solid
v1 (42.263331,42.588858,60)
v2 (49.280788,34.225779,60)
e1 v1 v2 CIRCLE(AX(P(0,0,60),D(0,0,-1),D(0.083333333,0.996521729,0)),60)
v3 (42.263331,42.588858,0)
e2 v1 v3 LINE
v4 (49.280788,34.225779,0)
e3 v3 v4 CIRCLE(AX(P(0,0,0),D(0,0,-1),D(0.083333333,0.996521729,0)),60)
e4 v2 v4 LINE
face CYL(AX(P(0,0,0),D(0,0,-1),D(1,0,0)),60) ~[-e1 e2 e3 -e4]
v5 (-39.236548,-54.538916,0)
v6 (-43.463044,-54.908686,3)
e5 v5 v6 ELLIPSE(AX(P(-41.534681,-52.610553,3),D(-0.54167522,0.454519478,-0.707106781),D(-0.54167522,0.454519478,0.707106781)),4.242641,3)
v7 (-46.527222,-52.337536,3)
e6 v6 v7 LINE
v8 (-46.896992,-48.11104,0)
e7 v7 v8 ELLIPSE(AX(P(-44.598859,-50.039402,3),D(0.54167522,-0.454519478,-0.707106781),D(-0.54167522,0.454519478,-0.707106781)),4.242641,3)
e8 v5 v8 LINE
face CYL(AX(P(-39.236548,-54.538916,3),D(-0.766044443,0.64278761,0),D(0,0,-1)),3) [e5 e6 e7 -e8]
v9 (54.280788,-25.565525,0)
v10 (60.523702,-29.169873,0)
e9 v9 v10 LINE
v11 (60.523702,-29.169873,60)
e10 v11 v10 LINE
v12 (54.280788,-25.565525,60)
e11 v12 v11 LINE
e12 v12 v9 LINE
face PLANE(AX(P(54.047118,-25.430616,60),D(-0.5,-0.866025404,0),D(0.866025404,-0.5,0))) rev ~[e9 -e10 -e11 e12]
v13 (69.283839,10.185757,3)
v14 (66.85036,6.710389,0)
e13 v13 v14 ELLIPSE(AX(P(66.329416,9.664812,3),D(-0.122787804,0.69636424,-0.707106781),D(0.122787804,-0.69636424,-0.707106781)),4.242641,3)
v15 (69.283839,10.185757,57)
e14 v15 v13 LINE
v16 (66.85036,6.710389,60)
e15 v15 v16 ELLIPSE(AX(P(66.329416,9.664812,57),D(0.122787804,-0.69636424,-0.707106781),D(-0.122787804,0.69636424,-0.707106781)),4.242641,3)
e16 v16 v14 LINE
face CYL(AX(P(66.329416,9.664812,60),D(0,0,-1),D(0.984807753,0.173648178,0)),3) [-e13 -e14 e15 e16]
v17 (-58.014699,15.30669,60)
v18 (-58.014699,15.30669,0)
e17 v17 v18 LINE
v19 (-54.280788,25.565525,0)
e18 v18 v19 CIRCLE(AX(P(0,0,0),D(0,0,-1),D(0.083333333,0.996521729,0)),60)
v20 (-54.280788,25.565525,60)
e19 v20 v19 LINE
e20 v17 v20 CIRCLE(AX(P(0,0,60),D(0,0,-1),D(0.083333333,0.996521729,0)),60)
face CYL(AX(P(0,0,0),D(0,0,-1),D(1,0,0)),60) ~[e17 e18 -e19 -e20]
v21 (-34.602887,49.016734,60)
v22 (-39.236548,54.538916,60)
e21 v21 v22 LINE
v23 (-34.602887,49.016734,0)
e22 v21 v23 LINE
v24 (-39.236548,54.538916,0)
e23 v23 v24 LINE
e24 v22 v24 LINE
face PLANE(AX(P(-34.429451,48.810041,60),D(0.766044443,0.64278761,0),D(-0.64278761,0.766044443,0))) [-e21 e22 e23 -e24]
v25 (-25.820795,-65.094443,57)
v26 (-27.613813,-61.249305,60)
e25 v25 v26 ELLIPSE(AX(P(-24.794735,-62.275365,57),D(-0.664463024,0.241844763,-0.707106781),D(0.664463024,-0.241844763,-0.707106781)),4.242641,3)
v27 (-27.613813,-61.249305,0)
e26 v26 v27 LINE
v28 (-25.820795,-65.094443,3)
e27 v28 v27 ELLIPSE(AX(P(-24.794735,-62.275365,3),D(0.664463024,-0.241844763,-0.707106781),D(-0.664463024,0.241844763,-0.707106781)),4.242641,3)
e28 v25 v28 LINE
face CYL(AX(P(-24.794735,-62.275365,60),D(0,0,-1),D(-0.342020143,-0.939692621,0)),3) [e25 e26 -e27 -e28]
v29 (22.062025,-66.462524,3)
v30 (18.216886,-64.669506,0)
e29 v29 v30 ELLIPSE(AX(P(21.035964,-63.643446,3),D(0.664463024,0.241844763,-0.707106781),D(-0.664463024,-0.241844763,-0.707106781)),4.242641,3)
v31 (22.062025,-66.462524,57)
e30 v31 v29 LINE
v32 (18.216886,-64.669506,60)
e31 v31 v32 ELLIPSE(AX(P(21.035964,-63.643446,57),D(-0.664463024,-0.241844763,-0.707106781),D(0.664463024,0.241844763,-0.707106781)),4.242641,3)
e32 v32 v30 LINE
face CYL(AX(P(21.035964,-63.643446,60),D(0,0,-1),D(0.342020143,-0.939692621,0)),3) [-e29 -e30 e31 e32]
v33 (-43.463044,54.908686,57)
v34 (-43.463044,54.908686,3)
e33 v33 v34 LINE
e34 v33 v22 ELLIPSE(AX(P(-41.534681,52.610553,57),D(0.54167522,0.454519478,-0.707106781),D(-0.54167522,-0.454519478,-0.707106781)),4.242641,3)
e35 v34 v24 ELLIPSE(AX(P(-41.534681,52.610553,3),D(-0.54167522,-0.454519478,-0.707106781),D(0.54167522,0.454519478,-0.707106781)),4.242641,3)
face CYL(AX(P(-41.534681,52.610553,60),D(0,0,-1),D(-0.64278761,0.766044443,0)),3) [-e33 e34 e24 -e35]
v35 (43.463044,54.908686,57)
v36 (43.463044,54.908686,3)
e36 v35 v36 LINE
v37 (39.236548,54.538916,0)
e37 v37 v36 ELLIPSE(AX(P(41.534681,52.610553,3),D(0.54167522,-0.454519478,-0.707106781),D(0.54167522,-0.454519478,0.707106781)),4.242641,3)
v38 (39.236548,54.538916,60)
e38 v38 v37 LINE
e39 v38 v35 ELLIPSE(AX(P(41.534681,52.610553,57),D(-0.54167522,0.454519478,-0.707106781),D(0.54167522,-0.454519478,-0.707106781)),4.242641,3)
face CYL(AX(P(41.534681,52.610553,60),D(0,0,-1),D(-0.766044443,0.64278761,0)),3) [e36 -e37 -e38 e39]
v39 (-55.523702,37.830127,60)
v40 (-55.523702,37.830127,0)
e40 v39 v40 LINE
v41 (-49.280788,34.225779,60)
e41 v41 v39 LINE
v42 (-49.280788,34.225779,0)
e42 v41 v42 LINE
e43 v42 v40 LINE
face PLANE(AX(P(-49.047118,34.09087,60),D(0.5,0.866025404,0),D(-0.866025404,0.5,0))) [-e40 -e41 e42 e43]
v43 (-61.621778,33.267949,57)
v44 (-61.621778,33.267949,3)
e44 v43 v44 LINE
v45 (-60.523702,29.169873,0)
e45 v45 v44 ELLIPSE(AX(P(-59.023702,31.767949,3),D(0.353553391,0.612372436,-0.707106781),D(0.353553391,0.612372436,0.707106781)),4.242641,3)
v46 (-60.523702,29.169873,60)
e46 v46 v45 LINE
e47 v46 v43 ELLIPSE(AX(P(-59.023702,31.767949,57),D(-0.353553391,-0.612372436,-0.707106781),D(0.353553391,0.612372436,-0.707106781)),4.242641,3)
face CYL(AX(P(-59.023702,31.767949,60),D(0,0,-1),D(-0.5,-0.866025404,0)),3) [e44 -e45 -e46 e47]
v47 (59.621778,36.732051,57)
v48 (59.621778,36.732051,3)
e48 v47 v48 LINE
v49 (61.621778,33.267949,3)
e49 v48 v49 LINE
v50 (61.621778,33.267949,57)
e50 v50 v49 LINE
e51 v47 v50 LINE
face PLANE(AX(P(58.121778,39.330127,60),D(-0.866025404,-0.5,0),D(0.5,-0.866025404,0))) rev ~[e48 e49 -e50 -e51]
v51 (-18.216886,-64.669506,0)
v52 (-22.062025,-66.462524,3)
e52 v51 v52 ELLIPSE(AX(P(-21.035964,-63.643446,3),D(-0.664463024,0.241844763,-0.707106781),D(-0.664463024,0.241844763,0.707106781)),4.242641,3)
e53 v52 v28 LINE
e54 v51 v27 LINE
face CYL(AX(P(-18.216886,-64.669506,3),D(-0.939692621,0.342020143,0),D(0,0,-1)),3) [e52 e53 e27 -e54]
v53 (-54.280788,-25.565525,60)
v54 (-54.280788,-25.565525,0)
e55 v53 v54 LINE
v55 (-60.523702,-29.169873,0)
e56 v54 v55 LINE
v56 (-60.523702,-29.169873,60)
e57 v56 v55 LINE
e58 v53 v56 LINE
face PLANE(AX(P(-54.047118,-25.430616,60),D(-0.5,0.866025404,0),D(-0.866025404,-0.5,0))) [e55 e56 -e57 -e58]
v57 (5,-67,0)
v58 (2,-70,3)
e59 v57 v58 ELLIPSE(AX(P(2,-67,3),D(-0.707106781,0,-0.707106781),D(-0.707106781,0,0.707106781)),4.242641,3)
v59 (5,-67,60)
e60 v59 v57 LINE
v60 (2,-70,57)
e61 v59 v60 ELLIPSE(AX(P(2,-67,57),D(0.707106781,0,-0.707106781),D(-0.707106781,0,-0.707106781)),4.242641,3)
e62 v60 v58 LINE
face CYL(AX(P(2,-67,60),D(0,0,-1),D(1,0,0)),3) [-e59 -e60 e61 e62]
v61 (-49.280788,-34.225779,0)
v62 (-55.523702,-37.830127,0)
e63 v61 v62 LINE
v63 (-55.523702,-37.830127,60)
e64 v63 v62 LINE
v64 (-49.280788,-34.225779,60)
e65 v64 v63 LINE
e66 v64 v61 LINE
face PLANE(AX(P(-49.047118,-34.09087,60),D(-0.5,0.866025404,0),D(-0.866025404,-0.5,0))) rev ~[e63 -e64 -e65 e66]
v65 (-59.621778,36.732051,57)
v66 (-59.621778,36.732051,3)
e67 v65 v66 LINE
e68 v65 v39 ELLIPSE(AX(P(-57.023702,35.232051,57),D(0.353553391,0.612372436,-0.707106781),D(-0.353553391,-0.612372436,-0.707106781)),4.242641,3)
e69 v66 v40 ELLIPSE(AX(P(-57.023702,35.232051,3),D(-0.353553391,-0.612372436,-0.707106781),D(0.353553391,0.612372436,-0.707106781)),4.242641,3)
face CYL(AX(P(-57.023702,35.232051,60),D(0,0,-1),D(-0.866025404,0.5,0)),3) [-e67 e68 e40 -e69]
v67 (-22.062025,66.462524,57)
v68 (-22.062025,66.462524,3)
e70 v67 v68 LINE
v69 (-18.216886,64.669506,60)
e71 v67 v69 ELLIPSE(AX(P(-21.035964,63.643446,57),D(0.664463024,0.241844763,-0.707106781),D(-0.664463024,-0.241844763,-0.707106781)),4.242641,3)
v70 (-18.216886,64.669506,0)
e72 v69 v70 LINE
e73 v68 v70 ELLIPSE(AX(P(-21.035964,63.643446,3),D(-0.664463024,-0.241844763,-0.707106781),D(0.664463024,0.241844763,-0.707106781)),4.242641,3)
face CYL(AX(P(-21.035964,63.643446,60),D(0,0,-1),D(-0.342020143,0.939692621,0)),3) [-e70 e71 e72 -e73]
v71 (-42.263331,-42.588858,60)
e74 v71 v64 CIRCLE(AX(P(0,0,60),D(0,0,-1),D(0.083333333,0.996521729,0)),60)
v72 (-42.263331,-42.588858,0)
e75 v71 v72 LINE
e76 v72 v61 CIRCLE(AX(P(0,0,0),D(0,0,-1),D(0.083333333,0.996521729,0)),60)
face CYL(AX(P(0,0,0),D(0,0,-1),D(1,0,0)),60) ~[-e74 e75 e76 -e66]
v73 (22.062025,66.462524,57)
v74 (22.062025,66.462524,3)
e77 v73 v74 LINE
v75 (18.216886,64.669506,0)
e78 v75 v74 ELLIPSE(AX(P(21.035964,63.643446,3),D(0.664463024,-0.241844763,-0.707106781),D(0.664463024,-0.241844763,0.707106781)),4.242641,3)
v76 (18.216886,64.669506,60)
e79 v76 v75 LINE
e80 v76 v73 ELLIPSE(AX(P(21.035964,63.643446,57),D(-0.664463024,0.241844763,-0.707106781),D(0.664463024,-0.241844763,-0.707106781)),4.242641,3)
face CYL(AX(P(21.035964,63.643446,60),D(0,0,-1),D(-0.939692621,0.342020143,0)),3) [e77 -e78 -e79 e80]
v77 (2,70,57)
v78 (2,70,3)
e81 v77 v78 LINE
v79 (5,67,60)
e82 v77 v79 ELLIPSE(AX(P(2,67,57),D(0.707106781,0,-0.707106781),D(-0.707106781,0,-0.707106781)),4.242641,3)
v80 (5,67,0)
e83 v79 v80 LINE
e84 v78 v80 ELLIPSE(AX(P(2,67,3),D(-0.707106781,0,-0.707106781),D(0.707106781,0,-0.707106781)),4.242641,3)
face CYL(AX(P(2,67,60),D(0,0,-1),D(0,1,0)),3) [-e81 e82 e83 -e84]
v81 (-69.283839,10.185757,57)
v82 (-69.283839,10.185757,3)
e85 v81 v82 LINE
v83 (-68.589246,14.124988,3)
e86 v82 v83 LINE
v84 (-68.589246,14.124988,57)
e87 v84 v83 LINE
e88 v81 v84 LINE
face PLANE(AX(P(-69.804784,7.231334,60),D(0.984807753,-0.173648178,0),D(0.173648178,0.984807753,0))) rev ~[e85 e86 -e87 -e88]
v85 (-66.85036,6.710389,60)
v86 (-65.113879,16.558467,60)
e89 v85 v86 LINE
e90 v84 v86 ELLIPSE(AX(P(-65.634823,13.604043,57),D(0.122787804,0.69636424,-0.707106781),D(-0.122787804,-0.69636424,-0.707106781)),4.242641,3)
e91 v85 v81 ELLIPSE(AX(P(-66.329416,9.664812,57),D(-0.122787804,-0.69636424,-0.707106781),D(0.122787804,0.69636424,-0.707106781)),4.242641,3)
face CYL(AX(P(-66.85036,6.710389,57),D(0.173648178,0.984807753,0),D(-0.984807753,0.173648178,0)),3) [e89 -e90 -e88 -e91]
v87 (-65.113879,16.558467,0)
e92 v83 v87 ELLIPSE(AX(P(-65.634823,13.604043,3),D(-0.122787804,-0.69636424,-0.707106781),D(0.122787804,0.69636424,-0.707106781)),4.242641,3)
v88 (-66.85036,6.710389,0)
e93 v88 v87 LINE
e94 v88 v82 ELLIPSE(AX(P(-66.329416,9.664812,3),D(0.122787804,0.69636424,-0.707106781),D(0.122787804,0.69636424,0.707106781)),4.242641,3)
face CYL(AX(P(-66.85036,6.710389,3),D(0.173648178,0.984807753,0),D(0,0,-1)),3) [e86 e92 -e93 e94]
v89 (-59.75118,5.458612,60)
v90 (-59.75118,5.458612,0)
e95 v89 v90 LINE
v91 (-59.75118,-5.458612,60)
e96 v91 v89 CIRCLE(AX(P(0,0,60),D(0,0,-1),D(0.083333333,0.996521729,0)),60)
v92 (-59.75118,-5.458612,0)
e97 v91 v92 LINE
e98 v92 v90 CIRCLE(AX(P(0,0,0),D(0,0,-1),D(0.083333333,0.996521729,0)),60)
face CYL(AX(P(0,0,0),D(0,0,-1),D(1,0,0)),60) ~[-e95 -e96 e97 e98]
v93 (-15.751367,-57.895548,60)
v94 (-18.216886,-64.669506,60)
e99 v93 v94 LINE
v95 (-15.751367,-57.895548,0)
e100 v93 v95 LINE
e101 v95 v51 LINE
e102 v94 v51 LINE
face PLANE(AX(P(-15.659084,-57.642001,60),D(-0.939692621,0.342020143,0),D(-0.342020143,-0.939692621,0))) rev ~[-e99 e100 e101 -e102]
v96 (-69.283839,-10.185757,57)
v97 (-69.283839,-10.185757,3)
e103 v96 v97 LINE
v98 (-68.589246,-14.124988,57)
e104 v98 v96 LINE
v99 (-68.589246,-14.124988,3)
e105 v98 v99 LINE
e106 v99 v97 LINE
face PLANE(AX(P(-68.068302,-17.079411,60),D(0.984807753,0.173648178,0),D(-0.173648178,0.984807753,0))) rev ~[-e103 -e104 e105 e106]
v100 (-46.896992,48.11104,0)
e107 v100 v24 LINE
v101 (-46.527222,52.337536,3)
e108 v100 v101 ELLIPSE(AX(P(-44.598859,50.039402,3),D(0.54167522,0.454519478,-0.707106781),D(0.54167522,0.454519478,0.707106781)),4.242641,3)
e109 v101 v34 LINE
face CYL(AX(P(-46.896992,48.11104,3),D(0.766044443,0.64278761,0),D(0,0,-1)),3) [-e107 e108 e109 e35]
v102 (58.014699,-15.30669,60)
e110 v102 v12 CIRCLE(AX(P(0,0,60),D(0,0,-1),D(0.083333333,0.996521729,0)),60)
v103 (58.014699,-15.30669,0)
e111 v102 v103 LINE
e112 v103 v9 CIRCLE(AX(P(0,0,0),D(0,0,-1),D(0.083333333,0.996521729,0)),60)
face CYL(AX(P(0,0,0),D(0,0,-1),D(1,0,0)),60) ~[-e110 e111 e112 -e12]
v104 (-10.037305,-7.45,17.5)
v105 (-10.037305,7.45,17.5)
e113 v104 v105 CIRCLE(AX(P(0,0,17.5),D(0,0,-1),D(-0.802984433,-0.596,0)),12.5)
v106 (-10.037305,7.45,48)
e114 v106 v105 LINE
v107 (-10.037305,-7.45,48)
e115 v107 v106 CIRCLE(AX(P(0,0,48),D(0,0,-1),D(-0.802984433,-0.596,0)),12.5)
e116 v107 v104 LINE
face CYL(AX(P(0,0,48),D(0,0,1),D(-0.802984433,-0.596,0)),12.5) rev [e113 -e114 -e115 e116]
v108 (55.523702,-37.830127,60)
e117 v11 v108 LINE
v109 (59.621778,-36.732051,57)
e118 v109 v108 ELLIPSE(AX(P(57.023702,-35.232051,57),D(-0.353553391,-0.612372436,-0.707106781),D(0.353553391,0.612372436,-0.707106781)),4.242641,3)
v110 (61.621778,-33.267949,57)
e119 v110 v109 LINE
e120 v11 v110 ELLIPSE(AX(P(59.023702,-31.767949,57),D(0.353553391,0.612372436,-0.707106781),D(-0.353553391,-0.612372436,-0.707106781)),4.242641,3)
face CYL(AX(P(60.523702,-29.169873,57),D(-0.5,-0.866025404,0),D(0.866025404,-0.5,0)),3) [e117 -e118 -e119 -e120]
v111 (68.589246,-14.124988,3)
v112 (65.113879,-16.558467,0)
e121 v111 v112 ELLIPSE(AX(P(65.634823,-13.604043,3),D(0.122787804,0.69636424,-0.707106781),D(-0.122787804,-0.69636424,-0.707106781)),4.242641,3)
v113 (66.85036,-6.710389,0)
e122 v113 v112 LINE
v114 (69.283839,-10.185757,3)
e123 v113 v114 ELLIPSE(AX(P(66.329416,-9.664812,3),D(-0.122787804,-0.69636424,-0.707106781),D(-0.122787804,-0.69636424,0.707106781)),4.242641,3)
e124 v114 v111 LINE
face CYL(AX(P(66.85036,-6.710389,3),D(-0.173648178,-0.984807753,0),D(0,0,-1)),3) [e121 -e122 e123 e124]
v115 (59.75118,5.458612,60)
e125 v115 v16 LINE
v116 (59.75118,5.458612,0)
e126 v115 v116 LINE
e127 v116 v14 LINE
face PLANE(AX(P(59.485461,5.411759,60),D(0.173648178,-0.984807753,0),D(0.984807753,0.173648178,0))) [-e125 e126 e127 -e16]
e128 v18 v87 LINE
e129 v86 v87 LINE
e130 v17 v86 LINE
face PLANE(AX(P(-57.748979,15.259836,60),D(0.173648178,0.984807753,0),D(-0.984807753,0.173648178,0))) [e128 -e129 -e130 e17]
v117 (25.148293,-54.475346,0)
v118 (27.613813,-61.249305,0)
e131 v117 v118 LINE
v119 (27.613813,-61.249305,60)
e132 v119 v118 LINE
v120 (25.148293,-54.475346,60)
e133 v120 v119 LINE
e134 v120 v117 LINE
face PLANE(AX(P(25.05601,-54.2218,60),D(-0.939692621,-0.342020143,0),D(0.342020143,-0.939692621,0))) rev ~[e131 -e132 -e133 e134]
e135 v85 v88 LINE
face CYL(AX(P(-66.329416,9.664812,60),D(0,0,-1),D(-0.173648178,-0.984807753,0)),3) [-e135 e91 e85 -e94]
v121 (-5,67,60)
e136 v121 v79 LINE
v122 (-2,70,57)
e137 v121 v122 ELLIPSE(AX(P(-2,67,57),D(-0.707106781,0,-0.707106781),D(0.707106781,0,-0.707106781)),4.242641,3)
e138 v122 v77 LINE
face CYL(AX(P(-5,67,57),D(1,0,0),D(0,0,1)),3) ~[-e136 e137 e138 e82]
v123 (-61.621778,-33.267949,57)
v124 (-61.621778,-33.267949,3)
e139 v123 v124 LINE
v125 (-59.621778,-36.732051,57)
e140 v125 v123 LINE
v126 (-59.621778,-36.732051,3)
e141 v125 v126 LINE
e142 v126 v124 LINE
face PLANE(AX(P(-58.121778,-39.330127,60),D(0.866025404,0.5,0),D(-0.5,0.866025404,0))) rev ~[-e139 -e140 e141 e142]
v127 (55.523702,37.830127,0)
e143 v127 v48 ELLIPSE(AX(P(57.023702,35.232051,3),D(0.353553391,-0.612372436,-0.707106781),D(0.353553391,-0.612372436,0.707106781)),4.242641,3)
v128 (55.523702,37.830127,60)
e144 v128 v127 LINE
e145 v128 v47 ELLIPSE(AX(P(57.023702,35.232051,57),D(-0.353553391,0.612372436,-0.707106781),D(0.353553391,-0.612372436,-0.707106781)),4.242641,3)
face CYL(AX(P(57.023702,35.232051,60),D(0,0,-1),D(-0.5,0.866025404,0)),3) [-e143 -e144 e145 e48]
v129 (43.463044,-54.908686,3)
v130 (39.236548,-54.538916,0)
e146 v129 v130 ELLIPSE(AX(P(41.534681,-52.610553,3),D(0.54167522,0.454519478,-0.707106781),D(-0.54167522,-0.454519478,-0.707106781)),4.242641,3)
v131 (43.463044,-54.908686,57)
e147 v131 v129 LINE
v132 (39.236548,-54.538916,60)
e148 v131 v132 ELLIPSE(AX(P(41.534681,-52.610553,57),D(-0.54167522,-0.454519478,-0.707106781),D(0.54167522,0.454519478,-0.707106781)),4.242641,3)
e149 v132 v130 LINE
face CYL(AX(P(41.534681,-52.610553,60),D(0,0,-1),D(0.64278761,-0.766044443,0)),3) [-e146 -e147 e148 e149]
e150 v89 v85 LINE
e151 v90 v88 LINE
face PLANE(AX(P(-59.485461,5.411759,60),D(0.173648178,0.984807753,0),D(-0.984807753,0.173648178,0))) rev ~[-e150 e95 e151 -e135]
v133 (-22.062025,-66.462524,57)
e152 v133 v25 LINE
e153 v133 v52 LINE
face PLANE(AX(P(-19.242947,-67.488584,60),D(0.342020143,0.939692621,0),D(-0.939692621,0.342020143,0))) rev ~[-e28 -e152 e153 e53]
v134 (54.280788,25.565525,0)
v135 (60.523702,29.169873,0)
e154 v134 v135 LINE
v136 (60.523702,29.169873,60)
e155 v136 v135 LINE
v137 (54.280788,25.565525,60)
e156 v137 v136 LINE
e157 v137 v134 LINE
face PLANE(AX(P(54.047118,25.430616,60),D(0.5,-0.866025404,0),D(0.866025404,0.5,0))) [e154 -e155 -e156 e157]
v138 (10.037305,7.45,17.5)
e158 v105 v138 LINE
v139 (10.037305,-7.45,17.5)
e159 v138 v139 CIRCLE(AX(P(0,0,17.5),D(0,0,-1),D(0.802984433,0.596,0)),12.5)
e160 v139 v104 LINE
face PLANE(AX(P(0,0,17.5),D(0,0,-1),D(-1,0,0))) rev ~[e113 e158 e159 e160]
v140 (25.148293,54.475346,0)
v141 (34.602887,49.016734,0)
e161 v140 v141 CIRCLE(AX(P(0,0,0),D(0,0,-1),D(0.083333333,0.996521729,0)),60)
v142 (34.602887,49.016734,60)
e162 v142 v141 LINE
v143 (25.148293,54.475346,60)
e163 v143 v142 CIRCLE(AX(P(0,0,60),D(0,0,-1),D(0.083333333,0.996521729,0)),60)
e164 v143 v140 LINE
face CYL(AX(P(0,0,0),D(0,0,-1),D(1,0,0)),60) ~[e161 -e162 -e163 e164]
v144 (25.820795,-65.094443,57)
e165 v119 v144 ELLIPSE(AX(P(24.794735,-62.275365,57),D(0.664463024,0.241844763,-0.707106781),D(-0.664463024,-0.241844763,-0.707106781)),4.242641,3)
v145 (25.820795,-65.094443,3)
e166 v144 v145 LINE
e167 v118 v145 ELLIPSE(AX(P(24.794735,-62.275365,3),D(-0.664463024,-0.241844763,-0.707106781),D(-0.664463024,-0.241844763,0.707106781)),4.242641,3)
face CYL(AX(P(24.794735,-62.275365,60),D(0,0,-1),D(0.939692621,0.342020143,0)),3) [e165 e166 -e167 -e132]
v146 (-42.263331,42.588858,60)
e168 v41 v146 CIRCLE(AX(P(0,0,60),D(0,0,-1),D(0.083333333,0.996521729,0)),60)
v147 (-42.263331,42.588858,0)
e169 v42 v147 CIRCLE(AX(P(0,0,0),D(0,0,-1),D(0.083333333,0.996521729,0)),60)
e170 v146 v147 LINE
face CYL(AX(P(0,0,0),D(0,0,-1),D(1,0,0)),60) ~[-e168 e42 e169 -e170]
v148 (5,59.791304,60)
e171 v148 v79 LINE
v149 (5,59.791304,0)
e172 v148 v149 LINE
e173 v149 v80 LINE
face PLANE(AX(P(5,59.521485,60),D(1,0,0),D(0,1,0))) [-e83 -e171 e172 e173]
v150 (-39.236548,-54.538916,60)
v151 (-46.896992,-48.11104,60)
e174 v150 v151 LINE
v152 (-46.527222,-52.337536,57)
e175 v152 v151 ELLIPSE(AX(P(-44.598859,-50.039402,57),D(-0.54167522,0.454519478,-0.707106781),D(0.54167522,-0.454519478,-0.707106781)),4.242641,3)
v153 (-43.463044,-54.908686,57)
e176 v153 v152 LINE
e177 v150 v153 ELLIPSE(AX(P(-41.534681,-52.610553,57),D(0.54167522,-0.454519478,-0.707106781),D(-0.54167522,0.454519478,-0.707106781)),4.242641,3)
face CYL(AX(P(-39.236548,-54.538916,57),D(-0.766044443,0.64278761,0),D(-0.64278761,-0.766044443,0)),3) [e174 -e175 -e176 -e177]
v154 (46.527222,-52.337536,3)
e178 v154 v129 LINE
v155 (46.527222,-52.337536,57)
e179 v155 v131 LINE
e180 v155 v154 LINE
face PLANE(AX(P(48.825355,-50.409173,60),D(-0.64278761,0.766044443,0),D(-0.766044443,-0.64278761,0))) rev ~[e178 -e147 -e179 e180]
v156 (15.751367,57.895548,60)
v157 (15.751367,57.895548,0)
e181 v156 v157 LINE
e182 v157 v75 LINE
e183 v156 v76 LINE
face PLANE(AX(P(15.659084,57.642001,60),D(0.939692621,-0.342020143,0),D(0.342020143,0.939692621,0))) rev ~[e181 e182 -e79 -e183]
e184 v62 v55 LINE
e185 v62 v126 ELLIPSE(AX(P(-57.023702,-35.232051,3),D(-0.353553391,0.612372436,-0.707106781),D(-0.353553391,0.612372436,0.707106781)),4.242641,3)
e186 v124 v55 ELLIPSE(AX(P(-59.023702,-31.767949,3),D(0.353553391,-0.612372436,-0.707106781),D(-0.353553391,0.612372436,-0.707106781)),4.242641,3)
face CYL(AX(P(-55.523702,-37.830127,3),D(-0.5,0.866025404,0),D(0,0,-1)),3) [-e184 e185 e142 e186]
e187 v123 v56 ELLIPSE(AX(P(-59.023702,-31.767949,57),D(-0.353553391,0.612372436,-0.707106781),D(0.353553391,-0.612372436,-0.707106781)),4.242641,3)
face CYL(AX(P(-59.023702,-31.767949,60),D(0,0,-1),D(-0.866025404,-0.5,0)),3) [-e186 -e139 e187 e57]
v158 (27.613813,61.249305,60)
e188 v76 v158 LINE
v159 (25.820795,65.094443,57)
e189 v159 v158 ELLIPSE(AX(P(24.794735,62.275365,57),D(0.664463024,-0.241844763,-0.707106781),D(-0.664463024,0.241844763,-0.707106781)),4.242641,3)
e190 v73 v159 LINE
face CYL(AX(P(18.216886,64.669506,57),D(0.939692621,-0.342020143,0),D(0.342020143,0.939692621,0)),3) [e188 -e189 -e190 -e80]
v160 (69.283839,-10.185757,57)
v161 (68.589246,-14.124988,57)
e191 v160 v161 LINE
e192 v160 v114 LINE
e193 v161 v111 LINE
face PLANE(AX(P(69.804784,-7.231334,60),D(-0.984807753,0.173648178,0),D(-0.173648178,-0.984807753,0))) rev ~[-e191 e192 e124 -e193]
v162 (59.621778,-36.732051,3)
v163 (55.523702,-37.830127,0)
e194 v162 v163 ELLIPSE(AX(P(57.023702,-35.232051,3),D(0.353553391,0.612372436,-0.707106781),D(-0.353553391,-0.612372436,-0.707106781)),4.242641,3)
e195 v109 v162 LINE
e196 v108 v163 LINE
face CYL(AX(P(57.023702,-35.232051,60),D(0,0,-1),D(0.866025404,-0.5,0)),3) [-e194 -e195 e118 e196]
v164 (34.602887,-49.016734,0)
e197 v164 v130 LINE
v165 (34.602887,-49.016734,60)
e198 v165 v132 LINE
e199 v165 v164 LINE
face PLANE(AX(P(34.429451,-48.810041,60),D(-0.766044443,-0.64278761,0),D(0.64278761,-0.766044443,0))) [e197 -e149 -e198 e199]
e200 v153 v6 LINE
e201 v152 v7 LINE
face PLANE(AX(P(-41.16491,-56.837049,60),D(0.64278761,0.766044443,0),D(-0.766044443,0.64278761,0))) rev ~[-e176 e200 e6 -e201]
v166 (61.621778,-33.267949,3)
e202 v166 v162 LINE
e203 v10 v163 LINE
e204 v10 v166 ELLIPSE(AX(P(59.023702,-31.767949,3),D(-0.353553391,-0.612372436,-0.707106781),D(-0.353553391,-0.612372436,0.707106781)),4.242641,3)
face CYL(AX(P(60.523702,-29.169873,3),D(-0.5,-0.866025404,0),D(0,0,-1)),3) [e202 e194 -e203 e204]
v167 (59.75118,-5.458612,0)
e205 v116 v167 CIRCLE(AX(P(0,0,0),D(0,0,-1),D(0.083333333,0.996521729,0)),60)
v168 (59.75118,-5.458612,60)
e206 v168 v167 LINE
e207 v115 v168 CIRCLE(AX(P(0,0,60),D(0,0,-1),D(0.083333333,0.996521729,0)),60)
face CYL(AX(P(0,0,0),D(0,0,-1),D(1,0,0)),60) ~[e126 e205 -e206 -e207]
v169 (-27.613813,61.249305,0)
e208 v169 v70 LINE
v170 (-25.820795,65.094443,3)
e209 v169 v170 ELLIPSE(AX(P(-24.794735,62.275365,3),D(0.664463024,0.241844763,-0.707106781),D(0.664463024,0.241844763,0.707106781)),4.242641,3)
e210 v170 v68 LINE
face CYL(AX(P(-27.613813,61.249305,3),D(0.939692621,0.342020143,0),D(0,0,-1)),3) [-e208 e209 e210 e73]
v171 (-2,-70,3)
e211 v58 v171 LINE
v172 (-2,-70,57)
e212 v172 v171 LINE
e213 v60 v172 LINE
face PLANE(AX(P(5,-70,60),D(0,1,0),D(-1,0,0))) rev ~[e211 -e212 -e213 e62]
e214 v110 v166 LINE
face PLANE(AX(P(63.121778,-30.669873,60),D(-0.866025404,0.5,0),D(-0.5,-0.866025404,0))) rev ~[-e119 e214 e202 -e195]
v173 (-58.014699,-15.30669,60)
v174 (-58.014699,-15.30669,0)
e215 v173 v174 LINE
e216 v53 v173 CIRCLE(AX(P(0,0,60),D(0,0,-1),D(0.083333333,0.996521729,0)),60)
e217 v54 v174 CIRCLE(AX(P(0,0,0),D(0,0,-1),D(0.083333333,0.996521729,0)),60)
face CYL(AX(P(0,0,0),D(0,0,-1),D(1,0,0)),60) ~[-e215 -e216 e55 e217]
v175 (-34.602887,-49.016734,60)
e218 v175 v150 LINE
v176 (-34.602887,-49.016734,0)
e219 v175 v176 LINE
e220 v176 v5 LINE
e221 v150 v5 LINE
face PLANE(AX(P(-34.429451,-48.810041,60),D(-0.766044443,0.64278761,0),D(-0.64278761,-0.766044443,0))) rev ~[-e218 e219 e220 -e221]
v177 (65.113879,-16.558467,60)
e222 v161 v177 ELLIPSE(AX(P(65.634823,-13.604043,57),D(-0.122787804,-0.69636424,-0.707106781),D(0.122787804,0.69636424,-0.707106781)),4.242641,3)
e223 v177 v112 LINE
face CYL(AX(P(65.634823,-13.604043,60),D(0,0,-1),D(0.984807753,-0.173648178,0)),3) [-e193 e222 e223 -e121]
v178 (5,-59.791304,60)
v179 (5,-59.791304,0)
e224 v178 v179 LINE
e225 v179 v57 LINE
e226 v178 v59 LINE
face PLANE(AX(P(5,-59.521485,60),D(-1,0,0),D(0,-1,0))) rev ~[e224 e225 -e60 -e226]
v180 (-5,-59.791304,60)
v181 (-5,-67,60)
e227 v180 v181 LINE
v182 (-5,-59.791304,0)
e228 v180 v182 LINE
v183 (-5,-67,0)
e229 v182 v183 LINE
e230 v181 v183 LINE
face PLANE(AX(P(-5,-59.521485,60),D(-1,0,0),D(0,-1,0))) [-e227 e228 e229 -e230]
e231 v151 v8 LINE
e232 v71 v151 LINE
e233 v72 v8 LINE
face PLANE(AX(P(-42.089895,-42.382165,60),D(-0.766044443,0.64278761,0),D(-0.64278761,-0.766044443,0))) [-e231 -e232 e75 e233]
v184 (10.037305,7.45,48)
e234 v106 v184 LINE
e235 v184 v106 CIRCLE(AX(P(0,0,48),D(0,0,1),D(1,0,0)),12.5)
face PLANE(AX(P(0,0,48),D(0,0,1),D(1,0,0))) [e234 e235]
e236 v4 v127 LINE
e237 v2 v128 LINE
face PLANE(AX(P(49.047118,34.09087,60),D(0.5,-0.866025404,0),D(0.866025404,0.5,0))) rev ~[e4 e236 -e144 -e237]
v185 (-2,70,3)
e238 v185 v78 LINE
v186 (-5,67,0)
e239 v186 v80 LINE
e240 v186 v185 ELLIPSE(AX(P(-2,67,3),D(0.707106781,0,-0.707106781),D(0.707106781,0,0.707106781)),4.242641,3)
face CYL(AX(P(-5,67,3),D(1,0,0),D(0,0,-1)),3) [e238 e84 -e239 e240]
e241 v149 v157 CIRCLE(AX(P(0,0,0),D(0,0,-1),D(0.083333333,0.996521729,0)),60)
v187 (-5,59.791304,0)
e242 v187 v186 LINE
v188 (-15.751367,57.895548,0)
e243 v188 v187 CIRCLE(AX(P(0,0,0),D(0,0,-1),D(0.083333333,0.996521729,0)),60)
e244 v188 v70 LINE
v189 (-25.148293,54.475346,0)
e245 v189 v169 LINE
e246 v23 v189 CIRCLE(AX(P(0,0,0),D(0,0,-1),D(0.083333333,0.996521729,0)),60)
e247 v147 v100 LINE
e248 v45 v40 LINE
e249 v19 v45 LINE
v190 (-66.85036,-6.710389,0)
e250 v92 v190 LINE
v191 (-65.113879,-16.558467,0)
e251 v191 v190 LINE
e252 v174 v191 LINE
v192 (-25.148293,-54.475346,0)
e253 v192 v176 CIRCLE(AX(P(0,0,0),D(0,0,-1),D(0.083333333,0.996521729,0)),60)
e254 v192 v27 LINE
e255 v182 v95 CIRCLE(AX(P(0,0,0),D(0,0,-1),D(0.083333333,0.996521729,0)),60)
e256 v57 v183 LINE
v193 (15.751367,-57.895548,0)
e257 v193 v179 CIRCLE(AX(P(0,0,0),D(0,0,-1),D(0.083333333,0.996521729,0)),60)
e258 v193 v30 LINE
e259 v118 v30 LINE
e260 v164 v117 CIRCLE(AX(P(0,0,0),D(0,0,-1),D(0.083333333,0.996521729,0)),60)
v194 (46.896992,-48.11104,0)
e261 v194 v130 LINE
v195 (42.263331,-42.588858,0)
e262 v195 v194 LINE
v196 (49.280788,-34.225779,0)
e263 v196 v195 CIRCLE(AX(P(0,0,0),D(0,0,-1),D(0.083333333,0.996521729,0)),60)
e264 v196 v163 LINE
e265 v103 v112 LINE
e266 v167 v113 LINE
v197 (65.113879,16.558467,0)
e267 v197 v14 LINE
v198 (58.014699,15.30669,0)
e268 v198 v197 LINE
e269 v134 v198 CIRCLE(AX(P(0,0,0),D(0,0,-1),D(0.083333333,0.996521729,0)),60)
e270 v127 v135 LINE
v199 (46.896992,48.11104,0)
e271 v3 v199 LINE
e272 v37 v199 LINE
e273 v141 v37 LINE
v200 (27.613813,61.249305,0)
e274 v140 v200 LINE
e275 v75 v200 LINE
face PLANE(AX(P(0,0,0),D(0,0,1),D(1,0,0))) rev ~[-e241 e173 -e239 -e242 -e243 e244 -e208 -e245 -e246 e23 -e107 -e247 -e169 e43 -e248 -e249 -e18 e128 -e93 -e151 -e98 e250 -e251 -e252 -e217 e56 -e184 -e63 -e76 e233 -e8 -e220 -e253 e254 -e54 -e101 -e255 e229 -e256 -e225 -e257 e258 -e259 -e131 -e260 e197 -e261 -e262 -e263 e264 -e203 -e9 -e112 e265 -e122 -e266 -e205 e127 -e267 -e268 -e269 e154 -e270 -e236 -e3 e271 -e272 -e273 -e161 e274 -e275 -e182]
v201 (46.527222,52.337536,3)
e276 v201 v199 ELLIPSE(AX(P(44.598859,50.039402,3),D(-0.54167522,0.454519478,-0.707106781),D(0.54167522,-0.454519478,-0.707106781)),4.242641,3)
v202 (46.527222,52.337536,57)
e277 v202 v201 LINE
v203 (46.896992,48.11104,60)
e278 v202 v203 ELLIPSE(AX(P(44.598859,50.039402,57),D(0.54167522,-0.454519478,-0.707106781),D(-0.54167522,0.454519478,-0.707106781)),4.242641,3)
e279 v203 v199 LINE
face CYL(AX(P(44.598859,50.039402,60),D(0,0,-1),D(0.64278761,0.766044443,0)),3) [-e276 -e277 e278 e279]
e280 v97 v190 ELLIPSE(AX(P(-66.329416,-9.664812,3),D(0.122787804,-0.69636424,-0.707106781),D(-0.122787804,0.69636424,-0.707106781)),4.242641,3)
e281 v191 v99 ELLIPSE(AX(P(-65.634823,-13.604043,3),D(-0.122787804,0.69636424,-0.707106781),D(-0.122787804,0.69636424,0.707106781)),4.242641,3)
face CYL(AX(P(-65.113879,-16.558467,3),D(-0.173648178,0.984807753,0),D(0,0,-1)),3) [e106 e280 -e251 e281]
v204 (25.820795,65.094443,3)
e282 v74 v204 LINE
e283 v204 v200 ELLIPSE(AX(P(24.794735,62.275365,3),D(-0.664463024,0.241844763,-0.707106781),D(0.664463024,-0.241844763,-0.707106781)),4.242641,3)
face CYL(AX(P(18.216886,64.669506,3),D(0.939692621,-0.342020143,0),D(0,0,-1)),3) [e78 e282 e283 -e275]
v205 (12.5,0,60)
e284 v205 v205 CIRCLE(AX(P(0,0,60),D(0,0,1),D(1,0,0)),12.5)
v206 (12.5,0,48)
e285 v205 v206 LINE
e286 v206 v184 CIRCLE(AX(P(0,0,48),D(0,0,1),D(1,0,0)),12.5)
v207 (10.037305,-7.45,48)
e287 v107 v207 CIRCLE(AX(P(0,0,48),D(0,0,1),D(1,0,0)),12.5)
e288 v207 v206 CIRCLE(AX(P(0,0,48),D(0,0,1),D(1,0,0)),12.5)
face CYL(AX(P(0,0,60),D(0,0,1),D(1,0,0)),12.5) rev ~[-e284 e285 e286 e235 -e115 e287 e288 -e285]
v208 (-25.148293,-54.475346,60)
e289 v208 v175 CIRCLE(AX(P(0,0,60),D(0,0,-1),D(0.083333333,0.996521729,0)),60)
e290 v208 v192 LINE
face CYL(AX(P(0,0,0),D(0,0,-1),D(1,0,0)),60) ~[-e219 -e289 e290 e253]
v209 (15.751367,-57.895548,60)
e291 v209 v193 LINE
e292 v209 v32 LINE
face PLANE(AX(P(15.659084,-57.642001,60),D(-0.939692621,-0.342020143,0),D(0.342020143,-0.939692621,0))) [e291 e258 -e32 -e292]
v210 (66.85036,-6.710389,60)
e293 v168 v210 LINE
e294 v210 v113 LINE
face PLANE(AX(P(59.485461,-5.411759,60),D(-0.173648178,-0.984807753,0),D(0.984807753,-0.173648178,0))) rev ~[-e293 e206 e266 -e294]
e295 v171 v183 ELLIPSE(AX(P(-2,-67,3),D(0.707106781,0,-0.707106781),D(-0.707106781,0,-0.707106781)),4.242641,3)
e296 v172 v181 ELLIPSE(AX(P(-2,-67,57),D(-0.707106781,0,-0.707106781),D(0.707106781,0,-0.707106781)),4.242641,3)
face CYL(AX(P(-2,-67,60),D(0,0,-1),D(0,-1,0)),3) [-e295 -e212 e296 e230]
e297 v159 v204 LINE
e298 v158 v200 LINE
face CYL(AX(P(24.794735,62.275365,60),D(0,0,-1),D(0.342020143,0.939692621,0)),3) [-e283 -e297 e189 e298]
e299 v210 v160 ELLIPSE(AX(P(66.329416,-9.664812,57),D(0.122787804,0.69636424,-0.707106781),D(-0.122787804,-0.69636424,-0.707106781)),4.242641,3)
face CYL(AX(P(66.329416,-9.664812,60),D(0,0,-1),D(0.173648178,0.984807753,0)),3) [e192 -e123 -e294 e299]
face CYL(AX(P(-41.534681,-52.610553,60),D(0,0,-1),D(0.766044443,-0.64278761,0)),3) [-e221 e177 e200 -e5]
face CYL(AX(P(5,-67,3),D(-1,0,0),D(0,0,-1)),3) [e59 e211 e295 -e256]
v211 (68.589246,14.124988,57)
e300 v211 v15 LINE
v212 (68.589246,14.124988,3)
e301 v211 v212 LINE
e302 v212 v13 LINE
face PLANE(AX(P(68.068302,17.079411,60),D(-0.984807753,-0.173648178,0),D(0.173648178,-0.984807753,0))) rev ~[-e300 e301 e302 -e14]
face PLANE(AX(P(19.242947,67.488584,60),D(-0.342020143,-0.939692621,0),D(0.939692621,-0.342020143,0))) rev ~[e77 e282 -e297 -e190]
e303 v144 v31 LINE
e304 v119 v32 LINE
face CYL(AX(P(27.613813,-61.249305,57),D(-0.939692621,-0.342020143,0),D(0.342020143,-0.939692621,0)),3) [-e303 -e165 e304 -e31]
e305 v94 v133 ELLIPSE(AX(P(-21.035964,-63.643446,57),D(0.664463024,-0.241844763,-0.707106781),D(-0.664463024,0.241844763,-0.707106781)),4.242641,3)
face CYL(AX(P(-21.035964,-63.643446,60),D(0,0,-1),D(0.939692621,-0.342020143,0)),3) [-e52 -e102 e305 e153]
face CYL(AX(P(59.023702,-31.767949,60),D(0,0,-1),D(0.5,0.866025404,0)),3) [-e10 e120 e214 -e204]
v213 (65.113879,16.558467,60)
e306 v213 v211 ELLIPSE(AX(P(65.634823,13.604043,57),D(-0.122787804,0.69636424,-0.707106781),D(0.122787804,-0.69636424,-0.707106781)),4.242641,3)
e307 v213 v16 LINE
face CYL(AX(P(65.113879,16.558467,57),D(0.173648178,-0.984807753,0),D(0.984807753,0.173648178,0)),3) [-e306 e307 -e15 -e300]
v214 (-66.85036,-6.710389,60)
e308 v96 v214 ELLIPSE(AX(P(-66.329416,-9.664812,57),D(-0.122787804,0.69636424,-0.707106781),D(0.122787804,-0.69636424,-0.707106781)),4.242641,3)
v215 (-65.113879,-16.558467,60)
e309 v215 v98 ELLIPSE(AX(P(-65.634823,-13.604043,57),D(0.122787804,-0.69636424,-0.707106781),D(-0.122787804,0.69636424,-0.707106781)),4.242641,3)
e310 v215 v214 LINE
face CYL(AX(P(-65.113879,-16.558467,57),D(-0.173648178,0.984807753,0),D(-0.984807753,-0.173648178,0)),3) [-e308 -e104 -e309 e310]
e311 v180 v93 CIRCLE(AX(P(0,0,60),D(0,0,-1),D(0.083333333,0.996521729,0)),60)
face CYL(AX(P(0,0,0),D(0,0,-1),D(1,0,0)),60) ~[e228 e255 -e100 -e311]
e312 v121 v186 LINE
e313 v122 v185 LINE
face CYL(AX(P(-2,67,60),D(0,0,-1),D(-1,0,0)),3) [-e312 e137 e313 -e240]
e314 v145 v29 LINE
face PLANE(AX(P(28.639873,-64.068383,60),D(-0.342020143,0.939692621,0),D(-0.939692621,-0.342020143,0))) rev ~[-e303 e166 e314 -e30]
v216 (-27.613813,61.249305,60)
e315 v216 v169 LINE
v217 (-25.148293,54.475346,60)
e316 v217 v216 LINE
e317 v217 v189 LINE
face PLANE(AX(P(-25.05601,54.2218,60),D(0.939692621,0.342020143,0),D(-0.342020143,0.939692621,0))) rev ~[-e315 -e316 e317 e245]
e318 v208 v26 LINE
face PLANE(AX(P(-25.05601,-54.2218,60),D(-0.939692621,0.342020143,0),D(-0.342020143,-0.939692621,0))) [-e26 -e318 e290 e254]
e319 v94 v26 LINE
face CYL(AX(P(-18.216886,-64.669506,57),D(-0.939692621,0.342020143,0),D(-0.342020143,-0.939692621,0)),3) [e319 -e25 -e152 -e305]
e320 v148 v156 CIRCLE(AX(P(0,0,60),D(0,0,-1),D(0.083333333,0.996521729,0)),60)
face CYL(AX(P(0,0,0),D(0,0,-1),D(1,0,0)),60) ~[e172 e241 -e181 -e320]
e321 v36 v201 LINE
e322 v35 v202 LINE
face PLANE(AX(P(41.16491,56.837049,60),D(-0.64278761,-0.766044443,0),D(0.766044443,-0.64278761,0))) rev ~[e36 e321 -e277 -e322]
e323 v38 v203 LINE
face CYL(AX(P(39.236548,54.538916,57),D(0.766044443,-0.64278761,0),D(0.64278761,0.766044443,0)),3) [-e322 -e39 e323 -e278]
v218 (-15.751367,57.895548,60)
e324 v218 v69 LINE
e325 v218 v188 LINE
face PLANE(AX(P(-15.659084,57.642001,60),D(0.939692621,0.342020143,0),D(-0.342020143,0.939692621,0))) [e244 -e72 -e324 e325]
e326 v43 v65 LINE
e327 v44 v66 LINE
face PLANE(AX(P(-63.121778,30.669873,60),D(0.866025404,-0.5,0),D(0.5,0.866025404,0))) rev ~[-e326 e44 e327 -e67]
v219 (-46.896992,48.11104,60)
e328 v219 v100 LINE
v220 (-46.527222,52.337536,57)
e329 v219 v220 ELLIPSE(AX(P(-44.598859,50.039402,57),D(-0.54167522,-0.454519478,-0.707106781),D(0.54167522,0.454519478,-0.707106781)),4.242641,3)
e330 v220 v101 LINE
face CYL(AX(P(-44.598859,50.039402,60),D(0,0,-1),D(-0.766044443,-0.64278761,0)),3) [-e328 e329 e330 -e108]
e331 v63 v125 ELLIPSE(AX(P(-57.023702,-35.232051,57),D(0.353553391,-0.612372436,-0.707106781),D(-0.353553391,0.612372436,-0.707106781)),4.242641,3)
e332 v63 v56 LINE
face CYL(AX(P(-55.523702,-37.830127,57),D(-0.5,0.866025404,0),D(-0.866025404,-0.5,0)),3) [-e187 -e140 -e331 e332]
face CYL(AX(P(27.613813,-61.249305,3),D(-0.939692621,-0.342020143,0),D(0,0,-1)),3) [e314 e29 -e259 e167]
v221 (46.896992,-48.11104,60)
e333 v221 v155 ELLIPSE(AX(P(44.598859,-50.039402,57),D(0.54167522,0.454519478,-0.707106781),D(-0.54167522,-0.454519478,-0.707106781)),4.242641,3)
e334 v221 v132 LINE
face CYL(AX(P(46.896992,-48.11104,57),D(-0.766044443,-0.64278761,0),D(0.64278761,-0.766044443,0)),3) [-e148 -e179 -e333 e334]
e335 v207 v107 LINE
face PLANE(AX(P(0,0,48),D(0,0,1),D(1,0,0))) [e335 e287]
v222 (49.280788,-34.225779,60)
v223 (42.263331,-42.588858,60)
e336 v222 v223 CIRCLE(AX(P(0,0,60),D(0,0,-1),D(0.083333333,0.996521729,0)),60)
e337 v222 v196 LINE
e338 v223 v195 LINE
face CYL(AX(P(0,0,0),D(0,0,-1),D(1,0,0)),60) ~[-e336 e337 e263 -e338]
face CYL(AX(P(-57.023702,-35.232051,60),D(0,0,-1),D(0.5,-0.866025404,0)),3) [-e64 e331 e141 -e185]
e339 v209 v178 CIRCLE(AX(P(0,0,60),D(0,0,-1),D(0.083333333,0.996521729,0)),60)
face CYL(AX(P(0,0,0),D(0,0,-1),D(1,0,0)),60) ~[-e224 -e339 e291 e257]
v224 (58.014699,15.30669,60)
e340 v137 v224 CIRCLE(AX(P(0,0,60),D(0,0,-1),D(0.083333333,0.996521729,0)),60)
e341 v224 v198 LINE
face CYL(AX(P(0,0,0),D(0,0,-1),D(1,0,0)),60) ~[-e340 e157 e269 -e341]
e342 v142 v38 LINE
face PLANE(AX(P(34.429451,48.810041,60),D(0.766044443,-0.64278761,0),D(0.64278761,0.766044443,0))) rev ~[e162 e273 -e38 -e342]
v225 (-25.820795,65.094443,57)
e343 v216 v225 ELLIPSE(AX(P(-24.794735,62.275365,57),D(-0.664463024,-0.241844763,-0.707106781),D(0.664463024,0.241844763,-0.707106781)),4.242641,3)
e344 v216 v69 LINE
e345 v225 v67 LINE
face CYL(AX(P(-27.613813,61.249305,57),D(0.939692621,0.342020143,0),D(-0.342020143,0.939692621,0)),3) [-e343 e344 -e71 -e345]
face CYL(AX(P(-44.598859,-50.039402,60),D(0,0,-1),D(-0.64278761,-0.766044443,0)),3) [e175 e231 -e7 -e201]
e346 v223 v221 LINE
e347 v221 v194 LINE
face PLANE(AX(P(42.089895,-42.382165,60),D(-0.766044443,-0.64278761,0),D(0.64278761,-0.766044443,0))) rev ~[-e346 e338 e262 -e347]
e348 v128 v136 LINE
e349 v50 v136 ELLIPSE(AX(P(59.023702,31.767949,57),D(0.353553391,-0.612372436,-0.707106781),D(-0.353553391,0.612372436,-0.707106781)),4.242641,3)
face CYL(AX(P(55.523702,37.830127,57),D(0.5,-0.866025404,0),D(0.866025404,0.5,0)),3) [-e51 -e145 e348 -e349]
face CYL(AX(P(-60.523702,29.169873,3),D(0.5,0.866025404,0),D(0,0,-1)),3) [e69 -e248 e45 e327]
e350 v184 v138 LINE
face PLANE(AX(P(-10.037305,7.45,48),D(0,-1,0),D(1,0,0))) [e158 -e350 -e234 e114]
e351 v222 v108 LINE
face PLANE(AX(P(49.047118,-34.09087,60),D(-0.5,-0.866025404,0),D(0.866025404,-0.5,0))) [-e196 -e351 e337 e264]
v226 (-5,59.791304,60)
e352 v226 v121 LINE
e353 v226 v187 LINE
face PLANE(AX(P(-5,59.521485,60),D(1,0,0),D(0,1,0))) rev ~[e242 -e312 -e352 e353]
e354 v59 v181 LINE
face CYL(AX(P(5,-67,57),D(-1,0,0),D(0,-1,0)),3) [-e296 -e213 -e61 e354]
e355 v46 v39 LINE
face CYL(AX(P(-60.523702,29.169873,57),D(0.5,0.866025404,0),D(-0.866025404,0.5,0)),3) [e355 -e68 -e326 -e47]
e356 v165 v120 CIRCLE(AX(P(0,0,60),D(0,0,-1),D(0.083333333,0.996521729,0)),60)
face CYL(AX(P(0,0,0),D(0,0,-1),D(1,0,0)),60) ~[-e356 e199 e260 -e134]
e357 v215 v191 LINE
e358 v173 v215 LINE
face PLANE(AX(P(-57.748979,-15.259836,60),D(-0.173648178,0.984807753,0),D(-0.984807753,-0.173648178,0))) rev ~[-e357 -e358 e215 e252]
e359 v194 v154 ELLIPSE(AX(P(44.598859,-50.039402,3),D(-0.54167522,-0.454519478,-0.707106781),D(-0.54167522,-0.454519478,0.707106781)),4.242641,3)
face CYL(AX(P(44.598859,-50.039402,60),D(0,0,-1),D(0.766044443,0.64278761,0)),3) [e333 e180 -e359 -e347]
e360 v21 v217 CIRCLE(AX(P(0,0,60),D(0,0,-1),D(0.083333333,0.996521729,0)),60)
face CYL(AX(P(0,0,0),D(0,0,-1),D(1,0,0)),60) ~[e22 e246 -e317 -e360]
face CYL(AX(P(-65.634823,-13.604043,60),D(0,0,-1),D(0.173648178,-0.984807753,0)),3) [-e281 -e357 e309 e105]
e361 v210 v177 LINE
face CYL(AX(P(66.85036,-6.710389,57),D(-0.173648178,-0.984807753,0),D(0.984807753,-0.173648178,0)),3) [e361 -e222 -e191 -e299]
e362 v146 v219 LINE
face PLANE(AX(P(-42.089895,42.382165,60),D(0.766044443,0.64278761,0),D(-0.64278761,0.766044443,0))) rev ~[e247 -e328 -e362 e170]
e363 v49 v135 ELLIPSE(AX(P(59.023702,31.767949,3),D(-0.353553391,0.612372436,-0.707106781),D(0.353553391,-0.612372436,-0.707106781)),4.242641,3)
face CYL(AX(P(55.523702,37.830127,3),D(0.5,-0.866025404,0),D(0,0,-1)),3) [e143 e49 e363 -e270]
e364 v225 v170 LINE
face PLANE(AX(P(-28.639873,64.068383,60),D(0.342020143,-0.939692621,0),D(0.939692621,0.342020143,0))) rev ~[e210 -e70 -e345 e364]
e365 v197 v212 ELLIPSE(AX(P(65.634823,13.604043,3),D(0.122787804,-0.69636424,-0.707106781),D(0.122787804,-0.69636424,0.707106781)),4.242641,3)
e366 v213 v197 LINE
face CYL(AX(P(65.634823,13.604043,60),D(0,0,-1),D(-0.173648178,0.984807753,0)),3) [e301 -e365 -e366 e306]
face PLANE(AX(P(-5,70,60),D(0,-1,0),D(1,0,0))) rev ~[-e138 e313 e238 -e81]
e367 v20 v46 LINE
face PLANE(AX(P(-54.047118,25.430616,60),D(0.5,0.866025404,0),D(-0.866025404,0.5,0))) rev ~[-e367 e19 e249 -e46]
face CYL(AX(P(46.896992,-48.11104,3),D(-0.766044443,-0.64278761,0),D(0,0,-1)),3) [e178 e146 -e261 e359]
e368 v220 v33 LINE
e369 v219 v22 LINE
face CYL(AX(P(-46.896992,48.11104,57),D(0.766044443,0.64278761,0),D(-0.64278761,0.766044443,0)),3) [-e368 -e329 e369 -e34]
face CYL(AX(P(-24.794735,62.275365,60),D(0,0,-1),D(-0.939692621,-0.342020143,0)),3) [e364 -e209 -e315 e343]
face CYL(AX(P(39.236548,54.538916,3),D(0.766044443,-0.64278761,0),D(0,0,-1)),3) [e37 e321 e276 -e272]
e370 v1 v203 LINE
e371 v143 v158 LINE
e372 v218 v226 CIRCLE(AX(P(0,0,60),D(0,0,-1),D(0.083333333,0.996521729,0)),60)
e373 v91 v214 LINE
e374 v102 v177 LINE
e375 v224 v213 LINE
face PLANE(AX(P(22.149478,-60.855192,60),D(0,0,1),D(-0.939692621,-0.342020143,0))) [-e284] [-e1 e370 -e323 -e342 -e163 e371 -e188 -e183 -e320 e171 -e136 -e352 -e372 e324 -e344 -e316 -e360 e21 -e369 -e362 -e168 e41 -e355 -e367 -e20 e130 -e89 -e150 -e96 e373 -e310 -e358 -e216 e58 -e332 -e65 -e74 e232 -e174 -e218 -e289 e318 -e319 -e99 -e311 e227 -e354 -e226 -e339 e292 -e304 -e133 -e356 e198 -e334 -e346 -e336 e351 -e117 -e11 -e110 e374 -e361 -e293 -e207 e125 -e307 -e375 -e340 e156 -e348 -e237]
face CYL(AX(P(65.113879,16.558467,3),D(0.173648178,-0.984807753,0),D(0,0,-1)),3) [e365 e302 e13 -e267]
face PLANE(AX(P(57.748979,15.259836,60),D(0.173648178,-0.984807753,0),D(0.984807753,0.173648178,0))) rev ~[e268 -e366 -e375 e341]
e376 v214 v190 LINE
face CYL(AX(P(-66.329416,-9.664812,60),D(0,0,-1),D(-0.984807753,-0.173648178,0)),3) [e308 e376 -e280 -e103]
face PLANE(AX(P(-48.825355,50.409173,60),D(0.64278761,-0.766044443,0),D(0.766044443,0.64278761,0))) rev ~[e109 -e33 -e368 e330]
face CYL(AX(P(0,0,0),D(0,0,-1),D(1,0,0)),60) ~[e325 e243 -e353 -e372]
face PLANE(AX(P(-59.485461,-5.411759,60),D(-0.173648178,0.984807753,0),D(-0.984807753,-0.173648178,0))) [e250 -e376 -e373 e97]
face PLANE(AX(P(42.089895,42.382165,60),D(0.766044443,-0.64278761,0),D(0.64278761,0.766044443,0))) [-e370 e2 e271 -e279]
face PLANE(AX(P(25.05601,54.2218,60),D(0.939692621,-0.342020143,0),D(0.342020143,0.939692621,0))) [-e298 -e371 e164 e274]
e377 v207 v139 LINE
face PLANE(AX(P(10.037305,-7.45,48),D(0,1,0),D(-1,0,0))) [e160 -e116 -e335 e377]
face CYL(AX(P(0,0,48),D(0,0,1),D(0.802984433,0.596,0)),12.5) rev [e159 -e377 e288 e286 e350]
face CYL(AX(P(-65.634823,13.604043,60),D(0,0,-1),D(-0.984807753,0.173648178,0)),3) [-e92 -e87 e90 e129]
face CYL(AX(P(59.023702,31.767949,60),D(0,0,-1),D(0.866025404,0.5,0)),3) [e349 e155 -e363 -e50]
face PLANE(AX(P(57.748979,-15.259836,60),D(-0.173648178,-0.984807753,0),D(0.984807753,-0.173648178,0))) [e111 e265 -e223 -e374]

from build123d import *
from build123d.topology import SkipClean

# Parameters (mm, degrees)
SKETCH2_R                = 60
BOSS_EXTRUDE1_DEPTH      = 60
SKETCH3_W                = 10
SKETCH3_H                = 10.47851478
BOSS_EXTRUDE2_DEPTH      = 60
FILLET2_R                = 3
CIRPATTERN1_COUNT        = 18
FILLET2_OF_CIRPATTERN1_R = 3
SKETCH4_R                = 10
CUT_EXTRUDE1_DEPTH       = 60
SKETCH5_R                = 22.481820488
BOSS_EXTRUDE3_DEPTH      = 60
SKETCH6_R                = 12.5
CUT_EXTRUDE2_DEPTH       = 12
CUT_EXTRUDE3_DEPTH       = 30.5


with BuildPart() as part:
    # Sketch2 → Boss-Extrude1 (new body)
    with BuildSketch(Plane.XY):
        Circle(SKETCH2_R)
    extrude(amount=BOSS_EXTRUDE1_DEPTH)

    # Sketch3 → Boss-Extrude2 (add)
    with BuildSketch(Plane.XY.offset(60)):
        with Locations((0, 64.76074261)):
            Rectangle(SKETCH3_W, SKETCH3_H)
    boss_extrude2 = extrude(amount=-BOSS_EXTRUDE2_DEPTH)

    # Fillet2
    fillet2_edges = [part.edges().sort_by_distance(p)[0] for p in [
        (5, 70, 30),
        (0, 70, 0),
        (-5, 70, 30),
        (0, 70, 60),
    ]]
    fillet(fillet2_edges, radius=FILLET2_R)

    # CirPattern1: Boss-Extrude2 ×18 about axis
    cirpattern1_axis = Axis((0, 0, 0), (0, 0, 1))
    for i in range(1, CIRPATTERN1_COUNT):
        add(boss_extrude2.rotate(cirpattern1_axis, i * 360 / CIRPATTERN1_COUNT))

    # Fillet2 of CirPattern1
    fillet2_of_cirpattern1_edges = [part.edges().sort_by_distance(p)[0] for p in [
        (-19.242946929, 67.488584172, 30),
        (-23.941410033, 65.778483455, 0),
        (-28.639873137, 64.068382738, 30),
        (-23.941410033, 65.778483455, 60),
        (-41.164910462, 56.837049067, 30),
        (-44.995132678, 53.623111018, 0),
        (-48.825354894, 50.40917297, 30),
        (-44.995132678, 53.623111018, 60),
        (-58.121778265, 39.330127019, 30),
        (-60.621778265, 35, 0),
        (-63.121778265, 30.669872981, 30),
        (-60.621778265, 35, 60),
        (-68.068301823, 17.079411202, 30),
        (-68.936542711, 12.155372437, 0),
        (-69.804783599, 7.231333672, 30),
        (-68.936542711, 12.155372437, 60),
        (-69.804783599, -7.231333672, 30),
        (-68.936542711, -12.155372437, 0),
        (-68.068301823, -17.079411202, 30),
        (-68.936542711, -12.155372437, 60),
        (-63.121778265, -30.669872981, 30),
        (-60.621778265, -35, 0),
        (-58.121778265, -39.330127019, 30),
        (-60.621778265, -35, 60),
        (-48.825354894, -50.40917297, 30),
        (-44.995132678, -53.623111018, 0),
        (-41.164910462, -56.837049067, 30),
        (-44.995132678, -53.623111018, 60),
        (-28.639873137, -64.068382738, 30),
        (-23.941410033, -65.778483455, 0),
        (-19.242946929, -67.488584172, 30),
        (-23.941410033, -65.778483455, 60),
        (-5, -70, 30),
        (0, -70, 0),
        (5, -70, 30),
        (0, -70, 60),
        (19.242946929, -67.488584172, 30),
        (23.941410033, -65.778483455, 0),
        (28.639873137, -64.068382738, 30),
        (23.941410033, -65.778483455, 60),
        (41.164910462, -56.837049067, 30),
        (44.995132678, -53.623111018, 0),
        (48.825354894, -50.40917297, 30),
        (44.995132678, -53.623111018, 60),
        (58.121778265, -39.330127019, 30),
        (60.621778265, -35, 0),
        (63.121778265, -30.669872981, 30),
        (60.621778265, -35, 60),
        (68.068301823, -17.079411202, 30),
        (68.936542711, -12.155372437, 0),
        (69.804783599, -7.231333672, 30),
        (68.936542711, -12.155372437, 60),
        (69.804783599, 7.231333672, 30),
        (68.936542711, 12.155372437, 0),
        (68.068301823, 17.079411202, 30),
        (68.936542711, 12.155372437, 60),
        (63.121778265, 30.669872981, 30),
        (60.621778265, 35, 0),
        (58.121778265, 39.330127019, 30),
        (60.621778265, 35, 60),
        (48.825354894, 50.40917297, 30),
        (44.995132678, 53.623111018, 0),
        (41.164910462, 56.837049067, 30),
        (44.995132678, 53.623111018, 60),
        (28.639873137, 64.068382738, 30),
        (23.941410033, 65.778483455, 0),
        (19.242946929, 67.488584172, 30),
        (23.941410033, 65.778483455, 60),
    ]]
    fillet(fillet2_of_cirpattern1_edges, radius=FILLET2_OF_CIRPATTERN1_R)

    # Sketch4 → Cut-Extrude1 (cut)
    with BuildSketch(Plane.XY.offset(60)):
        Circle(SKETCH4_R)
    extrude(amount=-CUT_EXTRUDE1_DEPTH, mode=Mode.SUBTRACT)

    # Sketch5 → Boss-Extrude3 (add)
    with BuildSketch(Plane.XY.offset(60)):
        Circle(SKETCH5_R)
    extrude(amount=-BOSS_EXTRUDE3_DEPTH)

    # Sketch6 → Cut-Extrude2 (cut)
    with BuildSketch(Plane.XY.offset(60)):
        Circle(SKETCH6_R)
    extrude(amount=-CUT_EXTRUDE2_DEPTH, mode=Mode.SUBTRACT)

    # Sketch7 → Cut-Extrude3 (cut)
    with SkipClean():  # the faces are left unmerged after this step: merging them gives an invalid solid
        with BuildSketch(Plane.XY.offset(48)):
            with BuildLine():
                Line((10.037305415, -7.45), (-10.037305415, -7.45))
                ThreePointArc((-10.037305415, -7.45), (-12.5, 0), (-10.037305415, 7.45))
                Line((-10.037305415, 7.45), (10.037305415, 7.45))
                ThreePointArc((10.037305415, 7.45), (12.5, 0), (10.037305415, -7.45))
            make_face()
        extrude(amount=-CUT_EXTRUDE3_DEPTH, mode=Mode.SUBTRACT)


solid = part.part
